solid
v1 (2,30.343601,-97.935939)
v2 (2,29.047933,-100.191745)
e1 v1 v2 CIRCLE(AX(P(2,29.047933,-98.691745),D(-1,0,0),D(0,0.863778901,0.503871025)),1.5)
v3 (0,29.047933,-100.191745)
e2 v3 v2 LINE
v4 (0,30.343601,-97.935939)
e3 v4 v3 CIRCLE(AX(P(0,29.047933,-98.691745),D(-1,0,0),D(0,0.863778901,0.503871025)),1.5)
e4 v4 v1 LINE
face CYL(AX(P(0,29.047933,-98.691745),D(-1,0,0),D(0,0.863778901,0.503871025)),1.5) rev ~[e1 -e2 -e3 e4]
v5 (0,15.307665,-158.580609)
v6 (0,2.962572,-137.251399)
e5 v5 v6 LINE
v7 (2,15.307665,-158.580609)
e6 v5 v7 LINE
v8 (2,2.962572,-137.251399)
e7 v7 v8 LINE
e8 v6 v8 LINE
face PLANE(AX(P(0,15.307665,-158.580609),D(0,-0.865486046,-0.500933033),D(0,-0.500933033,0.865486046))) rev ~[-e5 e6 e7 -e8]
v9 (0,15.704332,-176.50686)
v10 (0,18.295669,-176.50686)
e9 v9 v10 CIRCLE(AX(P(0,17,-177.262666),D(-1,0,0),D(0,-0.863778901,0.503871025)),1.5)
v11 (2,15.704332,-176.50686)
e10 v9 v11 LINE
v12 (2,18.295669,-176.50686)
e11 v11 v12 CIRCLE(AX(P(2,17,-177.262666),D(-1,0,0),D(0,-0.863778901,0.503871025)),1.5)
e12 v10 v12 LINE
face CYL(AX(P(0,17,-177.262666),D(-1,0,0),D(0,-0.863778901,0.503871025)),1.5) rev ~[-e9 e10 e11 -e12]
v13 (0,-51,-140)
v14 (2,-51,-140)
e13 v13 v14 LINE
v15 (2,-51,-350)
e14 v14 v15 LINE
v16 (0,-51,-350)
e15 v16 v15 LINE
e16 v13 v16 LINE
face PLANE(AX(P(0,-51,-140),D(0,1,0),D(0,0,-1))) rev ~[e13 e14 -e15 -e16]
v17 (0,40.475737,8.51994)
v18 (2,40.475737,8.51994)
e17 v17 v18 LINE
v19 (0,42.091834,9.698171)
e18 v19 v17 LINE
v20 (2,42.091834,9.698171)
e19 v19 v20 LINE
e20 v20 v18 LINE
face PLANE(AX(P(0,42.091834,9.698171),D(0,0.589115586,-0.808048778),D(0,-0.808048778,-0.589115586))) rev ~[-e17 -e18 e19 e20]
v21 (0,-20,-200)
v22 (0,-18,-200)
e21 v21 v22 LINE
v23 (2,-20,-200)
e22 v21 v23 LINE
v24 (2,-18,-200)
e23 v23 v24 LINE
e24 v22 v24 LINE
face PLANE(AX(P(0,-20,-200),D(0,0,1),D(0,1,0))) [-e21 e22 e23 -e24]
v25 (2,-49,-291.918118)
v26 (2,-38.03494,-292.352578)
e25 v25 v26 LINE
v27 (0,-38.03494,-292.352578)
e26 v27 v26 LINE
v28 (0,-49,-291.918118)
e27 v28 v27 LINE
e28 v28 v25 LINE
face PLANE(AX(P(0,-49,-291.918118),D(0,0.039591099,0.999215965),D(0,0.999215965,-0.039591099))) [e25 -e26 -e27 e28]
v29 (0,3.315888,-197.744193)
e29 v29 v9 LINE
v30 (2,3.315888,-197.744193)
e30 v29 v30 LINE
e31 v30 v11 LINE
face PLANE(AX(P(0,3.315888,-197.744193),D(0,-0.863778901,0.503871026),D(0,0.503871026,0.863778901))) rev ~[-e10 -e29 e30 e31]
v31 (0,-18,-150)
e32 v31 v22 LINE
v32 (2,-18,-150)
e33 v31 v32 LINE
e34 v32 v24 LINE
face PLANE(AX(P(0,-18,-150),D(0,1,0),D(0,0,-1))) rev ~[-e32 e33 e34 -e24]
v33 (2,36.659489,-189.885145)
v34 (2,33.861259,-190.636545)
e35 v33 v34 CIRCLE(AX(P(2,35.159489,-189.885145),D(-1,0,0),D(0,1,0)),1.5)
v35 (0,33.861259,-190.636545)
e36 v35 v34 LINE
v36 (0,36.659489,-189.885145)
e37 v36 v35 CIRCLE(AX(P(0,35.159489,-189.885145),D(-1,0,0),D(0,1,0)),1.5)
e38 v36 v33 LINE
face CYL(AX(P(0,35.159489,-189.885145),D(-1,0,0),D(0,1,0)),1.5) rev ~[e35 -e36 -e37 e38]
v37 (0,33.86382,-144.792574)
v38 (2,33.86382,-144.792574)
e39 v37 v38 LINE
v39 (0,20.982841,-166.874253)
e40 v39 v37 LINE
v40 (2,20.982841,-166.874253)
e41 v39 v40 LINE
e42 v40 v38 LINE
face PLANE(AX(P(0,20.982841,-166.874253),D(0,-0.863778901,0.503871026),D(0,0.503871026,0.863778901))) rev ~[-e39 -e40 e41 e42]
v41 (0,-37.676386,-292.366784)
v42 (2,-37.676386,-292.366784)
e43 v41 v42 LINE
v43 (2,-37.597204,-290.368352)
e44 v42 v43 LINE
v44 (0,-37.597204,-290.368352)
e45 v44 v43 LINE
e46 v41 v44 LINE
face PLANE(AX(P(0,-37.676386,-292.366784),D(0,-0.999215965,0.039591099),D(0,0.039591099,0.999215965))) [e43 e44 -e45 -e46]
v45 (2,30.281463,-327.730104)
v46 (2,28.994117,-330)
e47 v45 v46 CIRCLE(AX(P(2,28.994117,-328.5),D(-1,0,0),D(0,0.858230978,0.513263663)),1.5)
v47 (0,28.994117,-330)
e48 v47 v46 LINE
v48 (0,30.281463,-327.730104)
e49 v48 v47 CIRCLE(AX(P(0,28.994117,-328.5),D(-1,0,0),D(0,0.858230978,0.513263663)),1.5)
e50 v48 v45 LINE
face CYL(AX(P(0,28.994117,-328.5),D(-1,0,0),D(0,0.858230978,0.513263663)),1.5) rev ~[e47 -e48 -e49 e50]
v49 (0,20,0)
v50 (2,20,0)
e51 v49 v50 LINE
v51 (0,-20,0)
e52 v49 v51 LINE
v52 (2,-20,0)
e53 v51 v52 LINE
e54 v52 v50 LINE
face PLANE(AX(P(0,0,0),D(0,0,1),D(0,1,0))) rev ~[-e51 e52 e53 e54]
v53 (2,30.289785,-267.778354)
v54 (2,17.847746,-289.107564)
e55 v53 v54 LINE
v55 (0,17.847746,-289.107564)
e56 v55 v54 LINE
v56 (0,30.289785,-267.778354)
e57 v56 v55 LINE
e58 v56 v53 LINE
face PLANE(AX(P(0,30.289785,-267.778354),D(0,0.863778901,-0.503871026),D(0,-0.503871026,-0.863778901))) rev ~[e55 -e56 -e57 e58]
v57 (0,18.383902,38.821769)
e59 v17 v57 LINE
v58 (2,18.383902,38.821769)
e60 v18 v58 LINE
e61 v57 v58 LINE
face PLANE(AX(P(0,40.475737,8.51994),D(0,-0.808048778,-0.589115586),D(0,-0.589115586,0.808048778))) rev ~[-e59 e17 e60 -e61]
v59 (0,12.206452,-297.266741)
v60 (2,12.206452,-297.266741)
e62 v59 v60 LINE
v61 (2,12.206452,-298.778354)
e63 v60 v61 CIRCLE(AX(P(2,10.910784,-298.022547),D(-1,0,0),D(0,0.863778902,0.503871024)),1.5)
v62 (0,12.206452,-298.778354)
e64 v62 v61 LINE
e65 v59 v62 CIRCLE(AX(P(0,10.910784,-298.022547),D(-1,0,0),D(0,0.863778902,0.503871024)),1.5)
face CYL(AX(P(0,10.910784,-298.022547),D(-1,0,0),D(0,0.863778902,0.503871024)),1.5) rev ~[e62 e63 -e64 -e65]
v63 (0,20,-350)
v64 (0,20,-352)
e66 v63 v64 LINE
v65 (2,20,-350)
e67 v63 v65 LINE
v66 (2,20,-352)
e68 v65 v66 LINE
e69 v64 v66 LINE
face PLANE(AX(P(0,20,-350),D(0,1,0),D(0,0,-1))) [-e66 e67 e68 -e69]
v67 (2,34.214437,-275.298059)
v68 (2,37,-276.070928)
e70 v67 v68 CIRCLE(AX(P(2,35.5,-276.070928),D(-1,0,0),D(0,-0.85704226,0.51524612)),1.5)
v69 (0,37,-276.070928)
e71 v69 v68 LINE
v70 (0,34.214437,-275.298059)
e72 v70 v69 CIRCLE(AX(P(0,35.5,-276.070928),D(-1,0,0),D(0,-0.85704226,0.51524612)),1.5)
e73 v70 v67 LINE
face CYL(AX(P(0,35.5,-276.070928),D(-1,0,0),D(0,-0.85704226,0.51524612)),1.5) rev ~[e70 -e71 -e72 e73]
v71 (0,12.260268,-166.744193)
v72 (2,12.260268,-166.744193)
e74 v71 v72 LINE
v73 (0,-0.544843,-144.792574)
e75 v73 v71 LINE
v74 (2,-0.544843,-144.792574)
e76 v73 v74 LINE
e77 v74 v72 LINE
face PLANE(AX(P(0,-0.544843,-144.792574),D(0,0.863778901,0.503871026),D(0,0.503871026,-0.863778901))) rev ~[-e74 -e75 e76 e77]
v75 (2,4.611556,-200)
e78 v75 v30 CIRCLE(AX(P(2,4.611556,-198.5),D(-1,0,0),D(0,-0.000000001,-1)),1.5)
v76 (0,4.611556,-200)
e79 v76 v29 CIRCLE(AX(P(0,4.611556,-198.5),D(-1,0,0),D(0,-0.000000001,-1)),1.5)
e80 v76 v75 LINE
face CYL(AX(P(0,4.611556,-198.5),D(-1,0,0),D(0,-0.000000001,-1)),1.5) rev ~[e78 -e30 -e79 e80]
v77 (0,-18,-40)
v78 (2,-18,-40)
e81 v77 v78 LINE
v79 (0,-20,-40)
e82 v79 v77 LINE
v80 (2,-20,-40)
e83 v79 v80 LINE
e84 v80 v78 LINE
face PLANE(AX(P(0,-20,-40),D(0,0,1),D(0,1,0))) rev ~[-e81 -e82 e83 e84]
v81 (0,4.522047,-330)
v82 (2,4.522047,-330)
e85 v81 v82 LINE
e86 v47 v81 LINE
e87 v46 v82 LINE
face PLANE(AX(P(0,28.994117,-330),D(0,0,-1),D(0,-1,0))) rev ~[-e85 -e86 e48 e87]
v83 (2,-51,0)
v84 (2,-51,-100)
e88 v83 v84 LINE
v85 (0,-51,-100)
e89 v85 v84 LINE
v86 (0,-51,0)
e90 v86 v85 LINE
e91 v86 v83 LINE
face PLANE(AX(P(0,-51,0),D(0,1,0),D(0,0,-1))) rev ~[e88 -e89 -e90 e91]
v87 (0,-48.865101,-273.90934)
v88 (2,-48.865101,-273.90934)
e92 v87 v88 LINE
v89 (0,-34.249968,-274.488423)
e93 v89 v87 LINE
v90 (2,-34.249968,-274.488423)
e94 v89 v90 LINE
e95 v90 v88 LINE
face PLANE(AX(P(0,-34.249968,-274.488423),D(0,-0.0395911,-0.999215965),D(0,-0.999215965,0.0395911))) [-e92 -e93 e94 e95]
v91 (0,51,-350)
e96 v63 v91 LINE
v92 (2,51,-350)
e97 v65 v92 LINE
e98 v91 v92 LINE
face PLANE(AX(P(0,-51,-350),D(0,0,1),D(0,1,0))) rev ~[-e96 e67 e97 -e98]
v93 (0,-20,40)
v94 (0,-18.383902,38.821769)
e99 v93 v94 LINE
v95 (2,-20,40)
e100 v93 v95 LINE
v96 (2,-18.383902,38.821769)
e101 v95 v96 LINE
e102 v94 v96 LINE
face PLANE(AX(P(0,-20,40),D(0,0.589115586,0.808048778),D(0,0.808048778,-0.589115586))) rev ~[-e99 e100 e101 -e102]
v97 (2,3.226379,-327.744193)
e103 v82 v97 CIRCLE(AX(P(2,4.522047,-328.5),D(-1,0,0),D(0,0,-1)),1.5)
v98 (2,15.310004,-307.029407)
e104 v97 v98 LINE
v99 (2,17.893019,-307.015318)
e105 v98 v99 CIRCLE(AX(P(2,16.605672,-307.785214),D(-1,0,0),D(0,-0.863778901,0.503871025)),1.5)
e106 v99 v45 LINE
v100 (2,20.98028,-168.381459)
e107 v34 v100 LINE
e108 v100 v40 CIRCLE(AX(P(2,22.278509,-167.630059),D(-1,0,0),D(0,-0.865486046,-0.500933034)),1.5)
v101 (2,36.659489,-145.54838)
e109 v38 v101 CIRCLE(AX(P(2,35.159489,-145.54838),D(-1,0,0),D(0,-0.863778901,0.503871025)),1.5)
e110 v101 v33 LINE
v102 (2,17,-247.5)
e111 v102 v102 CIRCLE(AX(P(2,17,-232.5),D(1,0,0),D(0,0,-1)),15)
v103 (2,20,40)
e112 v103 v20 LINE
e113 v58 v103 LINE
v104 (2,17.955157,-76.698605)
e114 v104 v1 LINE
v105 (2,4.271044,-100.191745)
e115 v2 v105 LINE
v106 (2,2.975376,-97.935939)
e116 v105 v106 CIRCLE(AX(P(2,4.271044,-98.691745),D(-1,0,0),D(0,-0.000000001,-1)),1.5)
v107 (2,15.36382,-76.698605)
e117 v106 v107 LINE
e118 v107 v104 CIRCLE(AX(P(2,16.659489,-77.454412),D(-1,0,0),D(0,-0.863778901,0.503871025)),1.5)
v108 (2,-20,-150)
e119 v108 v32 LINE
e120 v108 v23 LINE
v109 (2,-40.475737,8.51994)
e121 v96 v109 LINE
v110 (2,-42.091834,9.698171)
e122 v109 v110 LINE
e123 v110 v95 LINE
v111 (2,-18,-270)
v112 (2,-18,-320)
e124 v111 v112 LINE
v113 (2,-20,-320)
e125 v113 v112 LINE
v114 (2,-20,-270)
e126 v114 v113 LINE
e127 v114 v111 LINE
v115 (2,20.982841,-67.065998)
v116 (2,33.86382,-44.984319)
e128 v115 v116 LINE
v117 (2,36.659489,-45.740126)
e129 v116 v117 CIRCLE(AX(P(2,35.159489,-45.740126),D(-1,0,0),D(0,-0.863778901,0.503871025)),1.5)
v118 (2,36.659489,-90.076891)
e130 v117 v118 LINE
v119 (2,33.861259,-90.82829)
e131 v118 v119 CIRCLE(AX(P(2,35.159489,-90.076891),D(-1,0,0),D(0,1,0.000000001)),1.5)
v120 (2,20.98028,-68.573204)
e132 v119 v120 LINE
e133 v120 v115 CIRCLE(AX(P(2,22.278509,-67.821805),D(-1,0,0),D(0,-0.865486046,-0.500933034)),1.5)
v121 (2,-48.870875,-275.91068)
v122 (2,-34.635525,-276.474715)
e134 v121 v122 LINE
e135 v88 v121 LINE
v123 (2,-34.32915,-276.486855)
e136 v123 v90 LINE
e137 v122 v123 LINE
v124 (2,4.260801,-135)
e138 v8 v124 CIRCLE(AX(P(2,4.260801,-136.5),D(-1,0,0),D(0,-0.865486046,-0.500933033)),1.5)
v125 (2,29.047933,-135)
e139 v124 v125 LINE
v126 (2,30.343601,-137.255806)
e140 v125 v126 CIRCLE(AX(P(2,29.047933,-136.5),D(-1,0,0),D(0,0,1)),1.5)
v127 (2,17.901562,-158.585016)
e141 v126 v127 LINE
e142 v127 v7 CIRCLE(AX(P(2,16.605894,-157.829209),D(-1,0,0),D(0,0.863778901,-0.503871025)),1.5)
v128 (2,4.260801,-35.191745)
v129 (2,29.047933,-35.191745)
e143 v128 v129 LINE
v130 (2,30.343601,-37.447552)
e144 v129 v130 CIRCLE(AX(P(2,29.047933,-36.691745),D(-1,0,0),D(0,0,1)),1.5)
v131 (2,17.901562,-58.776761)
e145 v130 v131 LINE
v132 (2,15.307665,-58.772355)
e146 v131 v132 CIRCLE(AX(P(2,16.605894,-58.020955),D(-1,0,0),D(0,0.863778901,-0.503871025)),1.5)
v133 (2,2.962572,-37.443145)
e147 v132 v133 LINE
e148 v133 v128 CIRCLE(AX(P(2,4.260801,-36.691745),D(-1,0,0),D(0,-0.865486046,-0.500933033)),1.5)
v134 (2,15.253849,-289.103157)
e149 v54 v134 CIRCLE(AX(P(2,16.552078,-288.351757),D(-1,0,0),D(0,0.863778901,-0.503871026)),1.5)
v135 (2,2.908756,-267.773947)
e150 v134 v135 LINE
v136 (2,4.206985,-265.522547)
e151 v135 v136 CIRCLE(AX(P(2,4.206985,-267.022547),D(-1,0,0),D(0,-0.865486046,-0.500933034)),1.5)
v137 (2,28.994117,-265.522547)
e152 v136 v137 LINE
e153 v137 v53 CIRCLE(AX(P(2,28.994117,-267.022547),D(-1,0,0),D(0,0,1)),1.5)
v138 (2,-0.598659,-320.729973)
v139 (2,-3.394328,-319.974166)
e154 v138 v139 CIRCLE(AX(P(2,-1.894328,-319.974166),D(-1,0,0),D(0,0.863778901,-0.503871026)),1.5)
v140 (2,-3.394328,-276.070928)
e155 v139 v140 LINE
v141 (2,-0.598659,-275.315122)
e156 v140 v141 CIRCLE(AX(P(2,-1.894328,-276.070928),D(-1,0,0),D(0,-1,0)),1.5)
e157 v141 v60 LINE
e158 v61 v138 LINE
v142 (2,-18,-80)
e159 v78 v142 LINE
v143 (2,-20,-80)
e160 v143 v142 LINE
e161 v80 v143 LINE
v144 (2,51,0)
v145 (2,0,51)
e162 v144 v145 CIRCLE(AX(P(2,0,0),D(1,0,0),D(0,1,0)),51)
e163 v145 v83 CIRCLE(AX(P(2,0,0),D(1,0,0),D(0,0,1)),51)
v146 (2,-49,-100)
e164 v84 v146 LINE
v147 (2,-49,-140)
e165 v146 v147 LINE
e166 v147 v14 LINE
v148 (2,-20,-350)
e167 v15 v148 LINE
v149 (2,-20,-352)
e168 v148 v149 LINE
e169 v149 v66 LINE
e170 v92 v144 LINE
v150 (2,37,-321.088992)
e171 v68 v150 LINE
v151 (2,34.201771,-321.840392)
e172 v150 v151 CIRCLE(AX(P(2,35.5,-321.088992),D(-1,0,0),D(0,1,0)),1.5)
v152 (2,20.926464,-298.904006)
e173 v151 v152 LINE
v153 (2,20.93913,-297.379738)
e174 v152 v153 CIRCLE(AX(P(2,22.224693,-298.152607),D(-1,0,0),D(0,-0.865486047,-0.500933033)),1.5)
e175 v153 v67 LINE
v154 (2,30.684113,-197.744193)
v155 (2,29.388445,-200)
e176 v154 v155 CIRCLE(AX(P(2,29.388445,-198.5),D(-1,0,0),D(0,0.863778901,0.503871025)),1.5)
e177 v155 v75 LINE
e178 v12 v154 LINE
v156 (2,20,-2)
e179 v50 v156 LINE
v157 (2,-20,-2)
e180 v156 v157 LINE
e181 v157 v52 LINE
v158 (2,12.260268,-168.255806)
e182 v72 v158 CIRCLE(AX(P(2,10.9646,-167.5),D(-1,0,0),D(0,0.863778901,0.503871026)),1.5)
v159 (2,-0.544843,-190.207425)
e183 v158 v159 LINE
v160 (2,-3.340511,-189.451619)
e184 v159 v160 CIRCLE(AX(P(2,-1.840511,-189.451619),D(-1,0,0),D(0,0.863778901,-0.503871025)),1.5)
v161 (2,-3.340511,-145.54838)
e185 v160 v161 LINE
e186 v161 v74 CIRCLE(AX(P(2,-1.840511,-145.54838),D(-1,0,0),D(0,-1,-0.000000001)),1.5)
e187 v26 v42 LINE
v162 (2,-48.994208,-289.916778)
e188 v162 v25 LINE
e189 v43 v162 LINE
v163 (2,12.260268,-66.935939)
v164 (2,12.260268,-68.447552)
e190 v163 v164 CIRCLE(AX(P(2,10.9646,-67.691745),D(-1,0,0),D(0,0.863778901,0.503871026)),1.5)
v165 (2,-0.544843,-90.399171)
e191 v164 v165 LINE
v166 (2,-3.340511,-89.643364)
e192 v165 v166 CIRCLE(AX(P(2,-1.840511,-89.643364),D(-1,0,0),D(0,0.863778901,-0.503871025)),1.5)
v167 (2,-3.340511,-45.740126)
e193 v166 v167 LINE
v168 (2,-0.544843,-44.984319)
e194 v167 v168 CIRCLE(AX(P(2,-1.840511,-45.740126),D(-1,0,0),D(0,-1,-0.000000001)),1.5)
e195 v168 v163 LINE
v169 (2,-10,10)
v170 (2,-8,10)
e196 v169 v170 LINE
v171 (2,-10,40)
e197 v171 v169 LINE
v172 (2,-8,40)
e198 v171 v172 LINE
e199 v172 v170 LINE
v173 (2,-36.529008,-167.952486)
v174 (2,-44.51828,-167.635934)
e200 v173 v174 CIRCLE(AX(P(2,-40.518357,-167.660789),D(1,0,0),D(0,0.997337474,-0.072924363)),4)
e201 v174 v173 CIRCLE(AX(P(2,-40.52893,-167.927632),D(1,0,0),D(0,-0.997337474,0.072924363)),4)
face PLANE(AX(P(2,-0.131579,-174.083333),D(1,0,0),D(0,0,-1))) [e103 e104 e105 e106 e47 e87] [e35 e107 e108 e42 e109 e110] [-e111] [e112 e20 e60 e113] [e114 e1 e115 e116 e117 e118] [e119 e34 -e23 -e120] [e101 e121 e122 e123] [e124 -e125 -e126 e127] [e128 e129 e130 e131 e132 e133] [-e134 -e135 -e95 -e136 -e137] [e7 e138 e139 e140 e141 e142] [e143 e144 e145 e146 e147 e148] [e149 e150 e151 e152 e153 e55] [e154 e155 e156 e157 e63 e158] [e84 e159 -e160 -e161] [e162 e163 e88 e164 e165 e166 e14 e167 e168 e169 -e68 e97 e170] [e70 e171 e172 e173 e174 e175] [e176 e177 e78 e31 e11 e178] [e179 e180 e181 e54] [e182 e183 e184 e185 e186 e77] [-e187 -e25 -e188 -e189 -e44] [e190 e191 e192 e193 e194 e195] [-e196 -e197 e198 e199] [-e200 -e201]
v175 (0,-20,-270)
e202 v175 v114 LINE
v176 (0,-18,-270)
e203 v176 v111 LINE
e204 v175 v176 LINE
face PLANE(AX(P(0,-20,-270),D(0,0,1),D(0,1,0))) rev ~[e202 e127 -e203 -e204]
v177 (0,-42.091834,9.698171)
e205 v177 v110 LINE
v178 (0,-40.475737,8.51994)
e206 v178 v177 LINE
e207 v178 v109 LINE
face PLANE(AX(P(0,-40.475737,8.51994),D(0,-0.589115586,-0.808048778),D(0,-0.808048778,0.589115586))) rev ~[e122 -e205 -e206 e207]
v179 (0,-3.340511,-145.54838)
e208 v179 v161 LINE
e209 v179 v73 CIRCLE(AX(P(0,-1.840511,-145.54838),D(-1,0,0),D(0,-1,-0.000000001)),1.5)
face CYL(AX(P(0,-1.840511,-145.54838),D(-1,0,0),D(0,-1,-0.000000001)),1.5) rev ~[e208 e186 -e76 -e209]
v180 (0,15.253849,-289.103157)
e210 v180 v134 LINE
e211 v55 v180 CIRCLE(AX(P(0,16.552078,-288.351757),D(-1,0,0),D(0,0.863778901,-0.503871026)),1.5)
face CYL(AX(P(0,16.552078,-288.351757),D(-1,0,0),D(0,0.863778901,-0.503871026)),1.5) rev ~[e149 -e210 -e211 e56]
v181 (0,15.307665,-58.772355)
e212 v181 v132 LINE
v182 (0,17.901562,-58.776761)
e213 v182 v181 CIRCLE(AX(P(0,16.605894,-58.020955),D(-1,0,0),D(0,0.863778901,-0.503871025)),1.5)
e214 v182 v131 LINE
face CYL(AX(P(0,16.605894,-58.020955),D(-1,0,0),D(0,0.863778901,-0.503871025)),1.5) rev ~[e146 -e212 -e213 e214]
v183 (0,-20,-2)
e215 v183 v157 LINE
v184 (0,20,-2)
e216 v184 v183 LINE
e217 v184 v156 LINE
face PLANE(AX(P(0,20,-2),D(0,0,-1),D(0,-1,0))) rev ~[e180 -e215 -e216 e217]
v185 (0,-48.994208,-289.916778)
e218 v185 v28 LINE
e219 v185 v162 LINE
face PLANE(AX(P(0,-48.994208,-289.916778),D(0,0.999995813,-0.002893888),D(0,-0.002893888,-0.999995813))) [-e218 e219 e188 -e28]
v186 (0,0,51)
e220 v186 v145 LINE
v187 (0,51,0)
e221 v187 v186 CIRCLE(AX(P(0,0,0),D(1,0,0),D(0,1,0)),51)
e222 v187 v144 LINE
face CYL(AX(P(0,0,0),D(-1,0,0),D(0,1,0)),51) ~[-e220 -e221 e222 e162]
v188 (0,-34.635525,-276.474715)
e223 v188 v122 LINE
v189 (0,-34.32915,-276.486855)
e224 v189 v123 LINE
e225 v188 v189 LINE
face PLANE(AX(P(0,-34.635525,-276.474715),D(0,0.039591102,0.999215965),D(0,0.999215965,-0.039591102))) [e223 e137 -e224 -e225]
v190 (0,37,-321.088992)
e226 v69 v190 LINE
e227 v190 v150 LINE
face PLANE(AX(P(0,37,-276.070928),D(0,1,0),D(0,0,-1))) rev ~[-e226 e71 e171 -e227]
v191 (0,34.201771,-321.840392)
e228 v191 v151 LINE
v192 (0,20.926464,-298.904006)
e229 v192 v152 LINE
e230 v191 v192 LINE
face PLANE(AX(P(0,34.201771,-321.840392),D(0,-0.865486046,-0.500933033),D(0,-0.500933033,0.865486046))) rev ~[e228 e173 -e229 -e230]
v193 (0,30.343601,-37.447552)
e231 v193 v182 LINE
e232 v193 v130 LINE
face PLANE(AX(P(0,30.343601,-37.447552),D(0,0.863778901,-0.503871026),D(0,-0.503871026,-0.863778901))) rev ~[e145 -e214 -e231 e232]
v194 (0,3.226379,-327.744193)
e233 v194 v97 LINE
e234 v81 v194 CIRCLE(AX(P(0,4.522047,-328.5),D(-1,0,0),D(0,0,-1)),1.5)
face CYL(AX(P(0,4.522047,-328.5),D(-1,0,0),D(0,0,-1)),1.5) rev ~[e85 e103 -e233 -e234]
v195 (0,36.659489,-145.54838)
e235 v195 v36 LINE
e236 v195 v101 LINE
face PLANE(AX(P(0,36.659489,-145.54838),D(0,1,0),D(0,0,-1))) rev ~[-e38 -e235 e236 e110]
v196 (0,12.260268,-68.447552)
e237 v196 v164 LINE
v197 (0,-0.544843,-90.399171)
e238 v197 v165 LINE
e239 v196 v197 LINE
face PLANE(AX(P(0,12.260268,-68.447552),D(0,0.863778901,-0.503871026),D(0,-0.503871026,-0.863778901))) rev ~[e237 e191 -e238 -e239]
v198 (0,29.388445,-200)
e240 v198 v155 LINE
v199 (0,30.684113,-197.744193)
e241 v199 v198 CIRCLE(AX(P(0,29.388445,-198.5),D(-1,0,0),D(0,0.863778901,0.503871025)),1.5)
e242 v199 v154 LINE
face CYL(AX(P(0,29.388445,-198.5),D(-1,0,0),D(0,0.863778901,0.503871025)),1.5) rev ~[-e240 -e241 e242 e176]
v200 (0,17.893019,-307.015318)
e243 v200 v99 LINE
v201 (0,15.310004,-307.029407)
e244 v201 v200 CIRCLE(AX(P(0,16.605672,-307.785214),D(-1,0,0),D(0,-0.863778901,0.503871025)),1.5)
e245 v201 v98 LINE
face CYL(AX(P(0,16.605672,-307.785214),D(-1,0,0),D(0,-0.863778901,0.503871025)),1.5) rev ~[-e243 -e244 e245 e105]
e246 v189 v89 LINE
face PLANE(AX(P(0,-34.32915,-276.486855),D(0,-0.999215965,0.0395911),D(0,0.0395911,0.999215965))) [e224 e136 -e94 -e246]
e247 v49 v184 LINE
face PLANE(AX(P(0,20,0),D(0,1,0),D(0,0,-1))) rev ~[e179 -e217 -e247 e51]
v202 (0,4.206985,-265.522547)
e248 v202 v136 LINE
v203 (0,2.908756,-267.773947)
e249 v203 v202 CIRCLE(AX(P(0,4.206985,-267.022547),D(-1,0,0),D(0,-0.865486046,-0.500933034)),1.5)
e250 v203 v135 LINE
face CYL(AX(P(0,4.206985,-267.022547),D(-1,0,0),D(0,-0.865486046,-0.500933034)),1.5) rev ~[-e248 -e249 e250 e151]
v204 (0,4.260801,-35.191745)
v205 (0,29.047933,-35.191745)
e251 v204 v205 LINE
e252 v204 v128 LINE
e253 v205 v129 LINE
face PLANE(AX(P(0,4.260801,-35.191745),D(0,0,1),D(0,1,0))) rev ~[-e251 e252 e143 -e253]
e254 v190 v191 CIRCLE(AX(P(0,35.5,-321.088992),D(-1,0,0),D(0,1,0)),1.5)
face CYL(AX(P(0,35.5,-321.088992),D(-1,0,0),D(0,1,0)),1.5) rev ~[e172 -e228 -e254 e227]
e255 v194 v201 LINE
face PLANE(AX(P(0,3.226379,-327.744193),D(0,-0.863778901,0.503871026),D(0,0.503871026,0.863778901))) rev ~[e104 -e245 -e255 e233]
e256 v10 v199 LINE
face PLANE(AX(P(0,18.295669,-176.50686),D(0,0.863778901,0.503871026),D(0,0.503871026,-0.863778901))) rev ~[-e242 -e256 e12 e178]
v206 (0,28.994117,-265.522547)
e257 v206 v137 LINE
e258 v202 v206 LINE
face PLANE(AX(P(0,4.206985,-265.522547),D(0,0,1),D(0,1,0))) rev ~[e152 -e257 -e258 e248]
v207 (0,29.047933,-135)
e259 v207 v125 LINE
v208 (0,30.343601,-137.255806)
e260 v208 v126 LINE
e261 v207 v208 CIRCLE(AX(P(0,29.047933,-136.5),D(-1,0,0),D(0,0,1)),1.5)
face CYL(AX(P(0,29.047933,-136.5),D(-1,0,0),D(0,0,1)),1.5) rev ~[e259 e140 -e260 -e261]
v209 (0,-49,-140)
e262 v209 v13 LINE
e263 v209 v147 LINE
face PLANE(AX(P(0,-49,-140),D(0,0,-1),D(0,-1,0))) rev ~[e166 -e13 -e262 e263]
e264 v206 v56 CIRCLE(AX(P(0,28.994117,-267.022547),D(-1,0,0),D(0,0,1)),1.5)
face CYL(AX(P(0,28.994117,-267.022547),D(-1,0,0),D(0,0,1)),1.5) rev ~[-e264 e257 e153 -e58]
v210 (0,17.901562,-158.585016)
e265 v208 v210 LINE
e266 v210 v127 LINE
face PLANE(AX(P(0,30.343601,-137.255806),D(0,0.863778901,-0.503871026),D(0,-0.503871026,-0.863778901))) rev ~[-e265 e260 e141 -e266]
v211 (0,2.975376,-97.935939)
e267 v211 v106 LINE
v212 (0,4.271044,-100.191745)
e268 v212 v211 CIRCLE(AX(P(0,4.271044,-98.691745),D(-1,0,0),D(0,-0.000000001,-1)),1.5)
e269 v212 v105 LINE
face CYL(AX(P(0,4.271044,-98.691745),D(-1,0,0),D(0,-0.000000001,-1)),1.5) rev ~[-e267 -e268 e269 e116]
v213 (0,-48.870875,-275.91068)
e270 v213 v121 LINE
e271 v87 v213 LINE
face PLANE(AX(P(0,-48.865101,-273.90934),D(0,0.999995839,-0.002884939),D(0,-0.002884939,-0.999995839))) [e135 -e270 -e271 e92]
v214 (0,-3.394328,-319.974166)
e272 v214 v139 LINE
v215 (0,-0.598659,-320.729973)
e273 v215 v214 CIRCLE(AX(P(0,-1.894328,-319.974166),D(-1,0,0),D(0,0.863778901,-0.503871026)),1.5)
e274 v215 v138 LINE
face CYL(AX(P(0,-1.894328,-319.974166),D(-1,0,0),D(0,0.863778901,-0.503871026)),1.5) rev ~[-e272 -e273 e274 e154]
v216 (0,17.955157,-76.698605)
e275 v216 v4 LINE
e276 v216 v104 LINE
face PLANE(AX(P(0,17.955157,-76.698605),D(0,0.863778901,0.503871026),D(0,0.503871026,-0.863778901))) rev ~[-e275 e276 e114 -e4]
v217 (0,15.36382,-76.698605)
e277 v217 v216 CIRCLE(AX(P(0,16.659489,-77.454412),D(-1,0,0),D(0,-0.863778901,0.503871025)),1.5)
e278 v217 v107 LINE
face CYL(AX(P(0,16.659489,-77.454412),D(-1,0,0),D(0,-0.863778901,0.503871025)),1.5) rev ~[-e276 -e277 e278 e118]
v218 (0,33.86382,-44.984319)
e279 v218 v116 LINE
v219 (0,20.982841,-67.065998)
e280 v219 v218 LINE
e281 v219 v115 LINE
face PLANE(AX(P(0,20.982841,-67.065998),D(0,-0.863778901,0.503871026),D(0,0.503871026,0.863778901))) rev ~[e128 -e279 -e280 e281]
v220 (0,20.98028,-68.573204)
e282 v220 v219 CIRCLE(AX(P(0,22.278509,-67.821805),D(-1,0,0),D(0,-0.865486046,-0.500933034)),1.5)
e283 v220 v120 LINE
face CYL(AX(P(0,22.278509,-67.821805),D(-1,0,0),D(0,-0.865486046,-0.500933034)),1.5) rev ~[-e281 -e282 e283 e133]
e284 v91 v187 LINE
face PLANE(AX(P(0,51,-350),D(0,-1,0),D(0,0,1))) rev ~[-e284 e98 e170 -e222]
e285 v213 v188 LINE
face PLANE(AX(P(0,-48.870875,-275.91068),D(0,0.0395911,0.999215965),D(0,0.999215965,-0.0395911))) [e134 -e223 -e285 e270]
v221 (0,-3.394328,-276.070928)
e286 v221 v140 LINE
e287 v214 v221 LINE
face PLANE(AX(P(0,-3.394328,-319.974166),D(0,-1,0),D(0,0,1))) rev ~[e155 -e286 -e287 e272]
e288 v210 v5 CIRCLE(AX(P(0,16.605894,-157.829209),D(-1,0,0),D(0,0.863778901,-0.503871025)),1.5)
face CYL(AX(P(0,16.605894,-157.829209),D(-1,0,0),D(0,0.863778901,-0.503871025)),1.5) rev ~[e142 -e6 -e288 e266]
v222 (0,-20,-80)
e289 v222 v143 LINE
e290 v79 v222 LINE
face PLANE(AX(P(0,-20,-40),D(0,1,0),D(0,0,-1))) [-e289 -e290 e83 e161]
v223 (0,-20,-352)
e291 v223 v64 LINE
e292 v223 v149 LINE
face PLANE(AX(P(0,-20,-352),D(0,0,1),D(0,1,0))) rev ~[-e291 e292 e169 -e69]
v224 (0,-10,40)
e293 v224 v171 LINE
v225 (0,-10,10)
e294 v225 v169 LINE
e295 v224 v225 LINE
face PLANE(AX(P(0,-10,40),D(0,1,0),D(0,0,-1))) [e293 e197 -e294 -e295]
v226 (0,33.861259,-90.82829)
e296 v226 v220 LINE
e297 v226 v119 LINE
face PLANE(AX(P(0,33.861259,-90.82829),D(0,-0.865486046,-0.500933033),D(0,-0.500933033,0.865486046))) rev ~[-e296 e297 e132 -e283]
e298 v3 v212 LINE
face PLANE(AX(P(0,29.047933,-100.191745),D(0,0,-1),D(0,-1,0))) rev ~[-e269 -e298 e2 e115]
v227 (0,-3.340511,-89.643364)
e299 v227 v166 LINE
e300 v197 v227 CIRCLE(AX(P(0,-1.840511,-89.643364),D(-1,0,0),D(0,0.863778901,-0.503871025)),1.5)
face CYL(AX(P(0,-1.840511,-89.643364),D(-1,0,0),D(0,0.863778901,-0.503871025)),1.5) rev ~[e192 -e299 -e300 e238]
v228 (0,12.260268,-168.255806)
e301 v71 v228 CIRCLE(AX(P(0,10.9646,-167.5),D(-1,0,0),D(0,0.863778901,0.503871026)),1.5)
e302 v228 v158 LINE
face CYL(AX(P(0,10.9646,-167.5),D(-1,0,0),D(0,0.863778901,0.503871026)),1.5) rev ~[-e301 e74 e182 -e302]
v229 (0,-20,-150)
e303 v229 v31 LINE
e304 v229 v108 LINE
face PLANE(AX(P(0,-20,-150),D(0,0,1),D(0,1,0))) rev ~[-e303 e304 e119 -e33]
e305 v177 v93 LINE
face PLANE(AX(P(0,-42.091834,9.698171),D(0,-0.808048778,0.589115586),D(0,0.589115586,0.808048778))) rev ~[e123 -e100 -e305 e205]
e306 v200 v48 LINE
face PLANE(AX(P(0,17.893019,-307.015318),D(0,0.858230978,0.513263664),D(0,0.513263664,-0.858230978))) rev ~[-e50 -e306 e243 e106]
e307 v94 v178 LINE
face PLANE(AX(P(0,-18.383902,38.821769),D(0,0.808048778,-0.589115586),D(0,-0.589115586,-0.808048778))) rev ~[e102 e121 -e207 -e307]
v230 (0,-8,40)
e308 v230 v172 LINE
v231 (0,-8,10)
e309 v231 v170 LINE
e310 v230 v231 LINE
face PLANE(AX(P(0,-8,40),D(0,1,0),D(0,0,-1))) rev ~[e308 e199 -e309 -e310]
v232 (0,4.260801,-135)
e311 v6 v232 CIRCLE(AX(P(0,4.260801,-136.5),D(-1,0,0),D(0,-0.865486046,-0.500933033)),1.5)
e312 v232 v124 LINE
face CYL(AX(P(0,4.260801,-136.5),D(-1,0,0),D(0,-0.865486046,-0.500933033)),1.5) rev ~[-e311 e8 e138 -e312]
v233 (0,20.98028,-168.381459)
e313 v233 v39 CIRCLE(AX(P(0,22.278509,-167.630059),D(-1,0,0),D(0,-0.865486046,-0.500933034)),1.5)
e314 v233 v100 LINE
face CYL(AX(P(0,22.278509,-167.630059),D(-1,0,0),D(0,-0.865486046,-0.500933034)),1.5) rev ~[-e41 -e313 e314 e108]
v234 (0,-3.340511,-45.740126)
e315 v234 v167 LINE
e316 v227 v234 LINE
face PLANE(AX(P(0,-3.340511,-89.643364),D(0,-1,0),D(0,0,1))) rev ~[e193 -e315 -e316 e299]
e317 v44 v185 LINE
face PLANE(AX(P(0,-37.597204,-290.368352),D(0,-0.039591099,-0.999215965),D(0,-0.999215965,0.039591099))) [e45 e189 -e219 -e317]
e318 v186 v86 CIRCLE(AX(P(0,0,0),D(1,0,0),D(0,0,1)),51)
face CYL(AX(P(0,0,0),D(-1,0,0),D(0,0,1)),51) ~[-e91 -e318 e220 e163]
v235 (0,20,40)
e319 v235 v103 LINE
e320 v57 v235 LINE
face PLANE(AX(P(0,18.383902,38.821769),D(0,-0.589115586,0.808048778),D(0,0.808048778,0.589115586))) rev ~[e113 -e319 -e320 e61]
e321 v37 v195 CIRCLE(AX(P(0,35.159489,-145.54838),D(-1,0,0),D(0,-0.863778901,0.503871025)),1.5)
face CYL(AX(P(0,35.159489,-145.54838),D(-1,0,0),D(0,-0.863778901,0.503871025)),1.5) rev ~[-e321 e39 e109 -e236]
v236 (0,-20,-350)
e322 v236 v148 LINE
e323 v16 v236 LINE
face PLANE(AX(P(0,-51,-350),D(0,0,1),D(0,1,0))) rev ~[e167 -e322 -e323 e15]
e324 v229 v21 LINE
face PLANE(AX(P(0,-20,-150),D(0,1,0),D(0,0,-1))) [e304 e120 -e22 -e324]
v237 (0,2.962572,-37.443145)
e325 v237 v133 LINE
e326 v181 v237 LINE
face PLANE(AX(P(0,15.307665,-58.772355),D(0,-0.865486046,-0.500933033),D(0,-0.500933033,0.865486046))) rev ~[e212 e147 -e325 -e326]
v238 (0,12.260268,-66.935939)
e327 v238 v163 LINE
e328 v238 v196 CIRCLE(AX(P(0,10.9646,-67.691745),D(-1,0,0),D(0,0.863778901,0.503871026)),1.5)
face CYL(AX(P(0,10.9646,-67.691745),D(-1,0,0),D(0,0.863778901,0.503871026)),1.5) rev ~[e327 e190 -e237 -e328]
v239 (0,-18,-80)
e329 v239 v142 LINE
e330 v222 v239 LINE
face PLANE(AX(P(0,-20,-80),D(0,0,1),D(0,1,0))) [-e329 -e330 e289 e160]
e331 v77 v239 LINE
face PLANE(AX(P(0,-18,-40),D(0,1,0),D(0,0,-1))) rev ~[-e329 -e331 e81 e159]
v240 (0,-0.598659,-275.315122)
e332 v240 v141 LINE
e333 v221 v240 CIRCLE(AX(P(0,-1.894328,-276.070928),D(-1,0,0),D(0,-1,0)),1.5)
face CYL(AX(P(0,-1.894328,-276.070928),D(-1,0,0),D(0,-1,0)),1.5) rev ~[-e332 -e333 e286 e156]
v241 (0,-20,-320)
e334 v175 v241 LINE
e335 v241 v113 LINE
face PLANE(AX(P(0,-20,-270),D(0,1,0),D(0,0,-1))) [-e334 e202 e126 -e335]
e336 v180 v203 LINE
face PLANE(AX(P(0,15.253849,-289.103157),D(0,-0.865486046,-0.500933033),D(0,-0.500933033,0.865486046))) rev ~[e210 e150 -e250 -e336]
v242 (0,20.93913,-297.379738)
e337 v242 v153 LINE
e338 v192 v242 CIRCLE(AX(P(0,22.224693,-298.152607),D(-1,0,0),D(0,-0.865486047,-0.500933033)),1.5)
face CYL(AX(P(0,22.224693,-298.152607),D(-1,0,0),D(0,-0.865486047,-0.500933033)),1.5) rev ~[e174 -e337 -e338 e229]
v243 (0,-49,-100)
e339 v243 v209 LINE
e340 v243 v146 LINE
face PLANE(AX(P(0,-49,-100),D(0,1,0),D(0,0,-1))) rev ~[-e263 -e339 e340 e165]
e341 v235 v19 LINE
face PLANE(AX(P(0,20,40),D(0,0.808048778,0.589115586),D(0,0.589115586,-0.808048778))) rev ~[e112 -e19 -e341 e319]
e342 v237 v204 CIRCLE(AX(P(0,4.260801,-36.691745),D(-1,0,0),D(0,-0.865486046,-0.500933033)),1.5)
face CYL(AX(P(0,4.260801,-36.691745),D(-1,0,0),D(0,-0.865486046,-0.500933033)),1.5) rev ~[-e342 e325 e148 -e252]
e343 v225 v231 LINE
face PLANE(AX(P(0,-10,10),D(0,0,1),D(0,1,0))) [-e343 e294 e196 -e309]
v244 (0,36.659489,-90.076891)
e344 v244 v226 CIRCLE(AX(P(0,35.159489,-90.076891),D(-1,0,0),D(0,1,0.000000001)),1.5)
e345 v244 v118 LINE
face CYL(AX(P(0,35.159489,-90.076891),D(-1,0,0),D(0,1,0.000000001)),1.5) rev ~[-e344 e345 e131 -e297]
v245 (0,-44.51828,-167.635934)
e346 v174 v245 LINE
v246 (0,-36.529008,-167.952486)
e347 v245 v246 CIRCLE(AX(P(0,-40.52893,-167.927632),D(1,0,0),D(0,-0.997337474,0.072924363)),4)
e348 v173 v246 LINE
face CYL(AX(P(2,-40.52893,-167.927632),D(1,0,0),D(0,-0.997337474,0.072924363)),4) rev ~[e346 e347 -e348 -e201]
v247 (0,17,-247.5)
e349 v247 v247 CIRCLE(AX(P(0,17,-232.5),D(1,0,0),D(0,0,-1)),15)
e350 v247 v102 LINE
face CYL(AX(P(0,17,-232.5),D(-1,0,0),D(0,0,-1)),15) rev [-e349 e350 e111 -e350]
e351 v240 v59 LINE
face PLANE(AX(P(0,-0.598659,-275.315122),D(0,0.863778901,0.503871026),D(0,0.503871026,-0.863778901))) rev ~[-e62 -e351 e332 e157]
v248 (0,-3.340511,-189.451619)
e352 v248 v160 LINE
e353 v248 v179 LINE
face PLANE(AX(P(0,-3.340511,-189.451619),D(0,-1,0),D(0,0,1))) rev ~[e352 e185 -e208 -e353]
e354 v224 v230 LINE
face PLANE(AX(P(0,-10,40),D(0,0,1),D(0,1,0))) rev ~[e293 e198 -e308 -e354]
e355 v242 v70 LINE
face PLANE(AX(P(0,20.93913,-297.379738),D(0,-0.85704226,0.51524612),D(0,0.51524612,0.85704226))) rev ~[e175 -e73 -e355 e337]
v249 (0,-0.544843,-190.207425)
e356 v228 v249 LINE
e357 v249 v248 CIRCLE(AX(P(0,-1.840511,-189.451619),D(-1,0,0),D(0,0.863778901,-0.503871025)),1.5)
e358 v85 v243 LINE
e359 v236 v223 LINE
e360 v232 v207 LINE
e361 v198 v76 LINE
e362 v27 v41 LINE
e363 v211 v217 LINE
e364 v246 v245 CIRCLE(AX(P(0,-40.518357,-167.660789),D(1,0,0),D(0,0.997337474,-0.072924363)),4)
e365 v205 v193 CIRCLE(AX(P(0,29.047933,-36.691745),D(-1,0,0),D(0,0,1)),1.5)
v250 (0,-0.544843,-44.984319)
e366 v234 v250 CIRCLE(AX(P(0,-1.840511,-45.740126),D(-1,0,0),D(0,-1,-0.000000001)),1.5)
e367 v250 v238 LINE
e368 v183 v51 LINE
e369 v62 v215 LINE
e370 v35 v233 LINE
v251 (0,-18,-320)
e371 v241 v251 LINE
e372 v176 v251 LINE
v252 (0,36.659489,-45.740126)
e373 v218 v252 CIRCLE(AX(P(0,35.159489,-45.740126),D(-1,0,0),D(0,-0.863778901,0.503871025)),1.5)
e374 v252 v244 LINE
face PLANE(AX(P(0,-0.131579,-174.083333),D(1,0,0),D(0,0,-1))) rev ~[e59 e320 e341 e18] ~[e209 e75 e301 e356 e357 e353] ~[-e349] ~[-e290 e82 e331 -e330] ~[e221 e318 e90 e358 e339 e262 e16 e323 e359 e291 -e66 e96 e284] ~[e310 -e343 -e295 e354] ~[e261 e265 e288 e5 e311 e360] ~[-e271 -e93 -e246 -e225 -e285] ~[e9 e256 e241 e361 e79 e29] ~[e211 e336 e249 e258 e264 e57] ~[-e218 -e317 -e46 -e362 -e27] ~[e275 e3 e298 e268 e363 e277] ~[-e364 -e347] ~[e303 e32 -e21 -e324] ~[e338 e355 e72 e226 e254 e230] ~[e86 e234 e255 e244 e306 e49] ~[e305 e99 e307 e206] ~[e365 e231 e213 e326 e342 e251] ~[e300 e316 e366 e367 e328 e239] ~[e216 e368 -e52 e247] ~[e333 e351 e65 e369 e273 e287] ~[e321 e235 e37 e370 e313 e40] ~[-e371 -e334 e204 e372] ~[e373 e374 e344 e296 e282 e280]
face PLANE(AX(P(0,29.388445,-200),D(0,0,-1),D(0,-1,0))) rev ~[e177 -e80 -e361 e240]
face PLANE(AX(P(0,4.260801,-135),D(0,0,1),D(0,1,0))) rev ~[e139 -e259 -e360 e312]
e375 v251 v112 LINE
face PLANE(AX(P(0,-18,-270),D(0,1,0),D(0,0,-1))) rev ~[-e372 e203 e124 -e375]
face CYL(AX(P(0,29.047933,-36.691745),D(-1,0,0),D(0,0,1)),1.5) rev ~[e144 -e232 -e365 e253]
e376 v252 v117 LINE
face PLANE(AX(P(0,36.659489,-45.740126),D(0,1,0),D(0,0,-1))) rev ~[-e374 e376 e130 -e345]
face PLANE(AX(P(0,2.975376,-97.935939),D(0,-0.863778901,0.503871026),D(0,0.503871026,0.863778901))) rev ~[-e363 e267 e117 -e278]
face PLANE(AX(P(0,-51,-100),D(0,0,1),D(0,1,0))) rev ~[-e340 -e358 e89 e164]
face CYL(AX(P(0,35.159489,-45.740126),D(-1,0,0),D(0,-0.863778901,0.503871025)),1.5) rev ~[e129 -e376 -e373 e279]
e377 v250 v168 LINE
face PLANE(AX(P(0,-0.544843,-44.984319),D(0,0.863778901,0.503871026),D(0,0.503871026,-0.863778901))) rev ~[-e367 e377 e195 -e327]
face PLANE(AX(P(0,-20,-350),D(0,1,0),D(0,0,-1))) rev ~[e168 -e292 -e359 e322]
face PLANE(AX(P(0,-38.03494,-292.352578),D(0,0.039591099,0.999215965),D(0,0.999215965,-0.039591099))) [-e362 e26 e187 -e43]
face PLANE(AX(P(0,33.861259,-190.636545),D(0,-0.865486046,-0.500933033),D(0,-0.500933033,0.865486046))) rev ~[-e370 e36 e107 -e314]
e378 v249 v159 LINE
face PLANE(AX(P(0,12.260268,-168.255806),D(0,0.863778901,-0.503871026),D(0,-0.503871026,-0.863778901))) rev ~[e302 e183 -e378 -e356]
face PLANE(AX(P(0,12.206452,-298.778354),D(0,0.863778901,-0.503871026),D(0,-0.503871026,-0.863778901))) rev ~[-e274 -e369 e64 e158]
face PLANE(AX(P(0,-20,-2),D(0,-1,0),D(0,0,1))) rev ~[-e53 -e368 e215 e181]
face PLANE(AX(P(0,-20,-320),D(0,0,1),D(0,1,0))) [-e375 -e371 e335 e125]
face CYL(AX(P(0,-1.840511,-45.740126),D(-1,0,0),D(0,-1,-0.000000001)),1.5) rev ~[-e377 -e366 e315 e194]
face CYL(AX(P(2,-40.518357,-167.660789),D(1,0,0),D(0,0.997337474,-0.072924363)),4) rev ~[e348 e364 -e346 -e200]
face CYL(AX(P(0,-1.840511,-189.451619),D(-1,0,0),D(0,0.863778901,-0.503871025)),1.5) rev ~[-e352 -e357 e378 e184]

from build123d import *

# Parameters (mm, degrees)
SKETCH_1_W          = 40
SKETCH_1_H          = 2
SKETCH_1_W_2        = 50
SKETCH_1_R          = 15
SKETCH_1_W_3        = 30
SKETCH_1_W_4        = 2
SKETCH_1_H_2        = 40
EXTRUDE_3_DEPTH     = 2
SKETCH_2_W          = 190.078492772
SKETCH_2_H          = 26.673691145
EXTRUDE_4_DEPTH     = 2
CUT_EXTRUDE_1_DEPTH = 2
CUT_EXTRUDE_2_DEPTH = 2


with BuildPart() as part:
    # 草图1 → 凸台-拉伸3 (new body)
    # profile 1 of 4: a face of its own
    with BuildSketch(Plane(origin=(0, 0, 0), x_dir=(0, 0, -1), z_dir=(1, 0, 0))):
        Polygon((139, 51), (0, 51), (0, 20), (2, 20), (2, -20), (0, -20), (0, -51), (100, -51), (100, -49), (140, -49), (140, -51), (350, -51), (350, -20), (350, 20), (350, 51), (337.5, 51), (331.5, 51), (145, 51), align=None)
        with Locations((59.999999544, -18.999999639)):
            Rectangle(SKETCH_1_W, SKETCH_1_H, mode=Mode.SUBTRACT)
        with BuildLine():
            Line((145, -43), (145, -32))
            ThreePointArc((145, -32), (146.757359313, -27.757359313), (151, -26))
            Line((151, -26), (235, -26))
            Line((235, -26), (305, -26))
            Line((305, -26), (325.5, -26))
            ThreePointArc((325.5, -26), (329.742640687, -27.757359313), (331.5, -32))
            Line((331.5, -32), (331.5, -35))
            Line((331.5, -35), (331.5, -43))
            ThreePointArc((331.5, -43), (329.742640687, -47.242640687), (325.5, -49))
            Line((325.5, -49), (151, -49))
            ThreePointArc((151, -49), (146.757359313, -47.242640687), (145, -43))
        make_face(mode=Mode.SUBTRACT)
        with Locations((174.999999544, -18.999999639)):
            Rectangle(SKETCH_1_W_2, SKETCH_1_H, mode=Mode.SUBTRACT)
        with Locations((294.999999544, -18.999999639)):
            Rectangle(SKETCH_1_W_2, SKETCH_1_H, mode=Mode.SUBTRACT)
        with BuildLine():
            Line((35.191745107, 4.260800891), (35.191745107, 29.047933032))
            ThreePointArc((35.191745107, 29.047933032), (35.944654017, 30.348646261), (37.447551645, 30.343601384))
            Line((37.447551645, 30.343601384), (58.776761499, 17.901562302))
            ThreePointArc((58.776761499, 17.901562302), (59.520952796, 16.603345479), (58.772354511, 15.307664881))
            Line((58.772354511, 15.307664881), (37.443144656, 2.962571821))
            ThreePointArc((37.443144656, 2.962571821), (35.942445208, 2.961358833), (35.191745107, 4.260800891))
        make_face(mode=Mode.SUBTRACT)
        with BuildLine():
            Line((89.643364252, -3.340511469), (45.740125962, -3.340511469))
            ThreePointArc((45.740125962, -3.340511469), (44.292109641, -2.231981438), (44.984319423, -0.544843118))
            Line((44.984319423, -0.544843118), (66.935938568, 12.26026805))
            ThreePointArc((66.935938568, 12.26026805), (67.691745107, 12.464599699), (68.447551645, 12.26026805))
            Line((68.447551645, 12.26026805), (90.39917079, -0.544843118))
            ThreePointArc((90.39917079, -0.544843118), (91.091380572, -2.231981438), (89.643364252, -3.340511469))
        make_face(mode=Mode.SUBTRACT)
        with BuildLine():
            ThreePointArc((97.935938568, 30.343601384), (99.438836196, 30.348646261), (100.191745107, 29.047933032))
            Line((100.191745107, 29.047933032), (100.191745107, 4.27104403))
            ThreePointArc((100.191745107, 4.27104403), (99.438836196, 2.970330801), (97.935938568, 2.975375678))
            Line((97.935938568, 2.975375678), (76.698605138, 15.36382018))
            ThreePointArc((76.698605138, 15.36382018), (75.954411676, 16.659488531), (76.698605138, 17.955156882))
            Line((76.698605138, 17.955156882), (97.935938568, 30.343601384))
        make_face(mode=Mode.SUBTRACT)
        with BuildLine():
            Line((134.999999544, 4.260800891), (134.999999544, 29.047933032))
            ThreePointArc((134.999999544, 29.047933032), (135.752908454, 30.348646261), (137.255806082, 30.343601384))
            Line((137.255806082, 30.343601384), (158.585015936, 17.901562302))
            ThreePointArc((158.585015936, 17.901562302), (159.329207233, 16.603345479), (158.580608948, 15.307664881))
            Line((158.580608948, 15.307664881), (137.251399093, 2.962571821))
            ThreePointArc((137.251399093, 2.962571821), (135.750699645, 2.961358833), (134.999999544, 4.260800891))
        make_face(mode=Mode.SUBTRACT)
        with BuildLine():
            ThreePointArc((44.984319423, 33.86382018), (44.292109641, 35.5509585), (45.740125962, 36.659488531))
            Line((45.740125962, 36.659488531), (90.076890905, 36.659488531))
            ThreePointArc((90.076890905, 36.659488531), (91.525570236, 35.548497783), (90.828290455, 33.861259462))
            Line((90.828290455, 33.861259462), (68.573204266, 20.980280188))
            ThreePointArc((68.573204266, 20.980280188), (67.819256245, 20.778511422), (67.065998178, 20.982840906))
            Line((67.065998178, 20.982840906), (44.984319423, 33.86382018))
        make_face(mode=Mode.SUBTRACT)
        with BuildLine():
            Line((189.451618689, -3.340511469), (145.548380399, -3.340511469))
            ThreePointArc((145.548380399, -3.340511469), (144.100364078, -2.231981438), (144.79257386, -0.544843118))
            Line((144.79257386, -0.544843118), (166.744193005, 12.26026805))
            ThreePointArc((166.744193005, 12.26026805), (167.499999544, 12.464599699), (168.255806082, 12.26026805))
            Line((168.255806082, 12.26026805), (190.207425227, -0.544843118))
            ThreePointArc((190.207425227, -0.544843118), (190.899635009, -2.231981438), (189.451618689, -3.340511469))
        make_face(mode=Mode.SUBTRACT)
        with BuildLine():
            ThreePointArc((197.744193005, 30.684113214), (199.247090633, 30.689158091), (199.999999544, 29.388444862))
            Line((199.999999544, 29.388444862), (199.999999544, 4.61155586))
            ThreePointArc((199.999999544, 4.61155586), (199.247090633, 3.310842631), (197.744193005, 3.315887508))
            Line((197.744193005, 3.315887508), (176.506859575, 15.70433201))
            ThreePointArc((176.506859575, 15.70433201), (175.762666113, 17.000000361), (176.506859575, 18.295668712))
            Line((176.506859575, 18.295668712), (197.744193005, 30.684113214))
        make_face(mode=Mode.SUBTRACT)
        with Locations((232.499999544, 17.000000361)):
            Circle(SKETCH_1_R, mode=Mode.SUBTRACT)
        with BuildLine():
            Line((319.974166341, -3.394327578), (276.070928051, -3.394327578))
            ThreePointArc((276.070928051, -3.394327578), (274.622911731, -2.285797546), (275.315121513, -0.598659226))
            Line((275.315121513, -0.598659226), (297.266740658, 12.206451942))
            ThreePointArc((297.266740658, 12.206451942), (298.022547196, 12.41078359), (298.778353734, 12.206451942))
            Line((298.778353734, 12.206451942), (320.729972879, -0.598659226))
            ThreePointArc((320.729972879, -0.598659226), (321.422182661, -2.285797546), (319.974166341, -3.394327578))
        make_face(mode=Mode.SUBTRACT)
        with BuildLine():
            Line((265.522547196, 4.206984782), (265.522547196, 28.994116924))
            ThreePointArc((265.522547196, 28.994116924), (266.275456106, 30.294830153), (267.778353734, 30.289785275))
            Line((267.778353734, 30.289785275), (289.107563589, 17.847746193))
            ThreePointArc((289.107563589, 17.847746193), (289.851754885, 16.549529371), (289.1031566, 15.253848773))
            Line((289.1031566, 15.253848773), (267.773946745, 2.908755713))
            ThreePointArc((267.773946745, 2.908755713), (266.273247297, 2.907542724), (265.522547196, 4.206984782))
        make_face(mode=Mode.SUBTRACT)
        with BuildLine():
            ThreePointArc((327.730104048, 30.281463391), (329.239984934, 30.298885724), (329.999999544, 28.994116924))
            Line((329.999999544, 28.994116924), (329.999999544, 4.522047385))
            ThreePointArc((329.999999544, 4.522047385), (329.247090633, 3.221334156), (327.744193005, 3.226379034))
            Line((327.744193005, 3.226379034), (307.029407227, 15.310004071))
            ThreePointArc((307.029407227, 15.310004071), (306.285236078, 16.597490851), (307.01531827, 17.893018889))
            Line((307.01531827, 17.893018889), (327.730104048, 30.281463391))
        make_face(mode=Mode.SUBTRACT)
        with BuildLine():
            ThreePointArc((144.79257386, 33.86382018), (144.100364078, 35.5509585), (145.548380399, 36.659488531))
            Line((145.548380399, 36.659488531), (189.885145343, 36.659488531))
            ThreePointArc((189.885145343, 36.659488531), (191.333824673, 35.548497783), (190.636544892, 33.861259462))
            Line((190.636544892, 33.861259462), (168.381458703, 20.980280188))
            ThreePointArc((168.381458703, 20.980280188), (167.627510682, 20.778511422), (166.874252615, 20.982840906))
            Line((166.874252615, 20.982840906), (144.79257386, 33.86382018))
        make_face(mode=Mode.SUBTRACT)
        with BuildLine():
            ThreePointArc((275.298058871, 34.214436971), (274.625531032, 35.901033349), (276.070928051, 37.000000361))
            Line((276.070928051, 37.000000361), (321.088992302, 37.000000361))
            ThreePointArc((321.088992302, 37.000000361), (322.537671633, 35.889009613), (321.840391852, 34.201771291))
            Line((321.840391852, 34.201771291), (298.904006355, 20.926464079))
            ThreePointArc((298.904006355, 20.926464079), (298.140143214, 20.72474493), (297.379737626, 20.939129758))
            Line((297.379737626, 20.939129758), (275.298058871, 34.214436971))
        make_face(mode=Mode.SUBTRACT)
    # profile 2 of 4: a face of its own
    with BuildSketch(Plane(origin=(0, 0, 0), x_dir=(0, 0, -1), z_dir=(1, 0, 0))):
        with BuildLine():
            Line((0, 20), (0, 51))
            ThreePointArc((0, 51), (-36.062445841, 36.062445841), (-51, 0))
            Line((-51, 0), (0, 0))
            Line((0, 0), (0, 20))
        make_face()
        Polygon((-38.821768829, 18.383902445), (-40, 20), (-9.698170842, 42.091834457), (-8.519939671, 40.475736902), align=None, mode=Mode.SUBTRACT)
    # profile 3 of 4: a face of its own
    with BuildSketch(Plane(origin=(0, 0, 0), x_dir=(0, 0, -1), z_dir=(1, 0, 0))):
        with BuildLine():
            Line((0, 0), (-51, 0))
            ThreePointArc((-51, 0), (-36.062445841, -36.062445841), (0, -51))
            Line((0, -51), (0, -20))
            Line((0, -20), (0, 0))
        make_face()
        Polygon((-40, -20), (-38.821768829, -18.383902445), (-8.519939671, -40.475736902), (-9.698170842, -42.091834457), align=None, mode=Mode.SUBTRACT)
        with Locations((-25, -9)):
            Rectangle(SKETCH_1_W_3, SKETCH_1_H, mode=Mode.SUBTRACT)
    # profile 4 of 4: a face of its own
    with BuildSketch(Plane(origin=(0, 0, 0), x_dir=(0, 0, -1), z_dir=(1, 0, 0))):
        with Locations((351, 0)):
            Rectangle(SKETCH_1_W_4, SKETCH_1_H_2)
    extrude(amount=EXTRUDE_3_DEPTH)

    # 草图2 → 凸台-拉伸4 (add)
    with BuildSketch(Plane(origin=(2, 0, 0), x_dir=(0, 0, -1), z_dir=(1, 0, 0))):
        with Locations((237.791738903, -36.733598544)):
            Rectangle(SKETCH_2_W, SKETCH_2_H)
    extrude(amount=-EXTRUDE_4_DEPTH)

    # 草图3 → 切除-拉伸1 (cut)
    with BuildSketch(Plane.ZY):
        Polygon((-276.474715487, -34.635525304), (-276.486854743, -34.329149941), (-274.488422813, -34.249967741), (-273.909339591, -48.865100933), (-275.910680122, -48.870874702), align=None)
        Polygon((-291.918118303, -49), (-292.352577698, -38.034940321), (-292.366784403, -37.676385824), (-290.368352473, -37.597203626), (-289.916778482, -48.994208323), align=None)
    extrude(amount=-CUT_EXTRUDE_1_DEPTH, mode=Mode.SUBTRACT)

    # 草图4 → 切除-拉伸2 (cut)
    with BuildSketch(Plane(origin=(2, 0, 0), x_dir=(0, 0, -1), z_dir=(1, 0, 0))):
        with BuildLine():
            ThreePointArc((167.635934129, -44.518280263), (171.92449544, -40.687294754), (167.952486385, -36.529007588))
            ThreePointArc((167.952486385, -36.529007588), (163.663925074, -40.359993097), (167.635934129, -44.518280263))
        make_face()
    extrude(amount=-CUT_EXTRUDE_2_DEPTH, mode=Mode.SUBTRACT)


solid = part.part
